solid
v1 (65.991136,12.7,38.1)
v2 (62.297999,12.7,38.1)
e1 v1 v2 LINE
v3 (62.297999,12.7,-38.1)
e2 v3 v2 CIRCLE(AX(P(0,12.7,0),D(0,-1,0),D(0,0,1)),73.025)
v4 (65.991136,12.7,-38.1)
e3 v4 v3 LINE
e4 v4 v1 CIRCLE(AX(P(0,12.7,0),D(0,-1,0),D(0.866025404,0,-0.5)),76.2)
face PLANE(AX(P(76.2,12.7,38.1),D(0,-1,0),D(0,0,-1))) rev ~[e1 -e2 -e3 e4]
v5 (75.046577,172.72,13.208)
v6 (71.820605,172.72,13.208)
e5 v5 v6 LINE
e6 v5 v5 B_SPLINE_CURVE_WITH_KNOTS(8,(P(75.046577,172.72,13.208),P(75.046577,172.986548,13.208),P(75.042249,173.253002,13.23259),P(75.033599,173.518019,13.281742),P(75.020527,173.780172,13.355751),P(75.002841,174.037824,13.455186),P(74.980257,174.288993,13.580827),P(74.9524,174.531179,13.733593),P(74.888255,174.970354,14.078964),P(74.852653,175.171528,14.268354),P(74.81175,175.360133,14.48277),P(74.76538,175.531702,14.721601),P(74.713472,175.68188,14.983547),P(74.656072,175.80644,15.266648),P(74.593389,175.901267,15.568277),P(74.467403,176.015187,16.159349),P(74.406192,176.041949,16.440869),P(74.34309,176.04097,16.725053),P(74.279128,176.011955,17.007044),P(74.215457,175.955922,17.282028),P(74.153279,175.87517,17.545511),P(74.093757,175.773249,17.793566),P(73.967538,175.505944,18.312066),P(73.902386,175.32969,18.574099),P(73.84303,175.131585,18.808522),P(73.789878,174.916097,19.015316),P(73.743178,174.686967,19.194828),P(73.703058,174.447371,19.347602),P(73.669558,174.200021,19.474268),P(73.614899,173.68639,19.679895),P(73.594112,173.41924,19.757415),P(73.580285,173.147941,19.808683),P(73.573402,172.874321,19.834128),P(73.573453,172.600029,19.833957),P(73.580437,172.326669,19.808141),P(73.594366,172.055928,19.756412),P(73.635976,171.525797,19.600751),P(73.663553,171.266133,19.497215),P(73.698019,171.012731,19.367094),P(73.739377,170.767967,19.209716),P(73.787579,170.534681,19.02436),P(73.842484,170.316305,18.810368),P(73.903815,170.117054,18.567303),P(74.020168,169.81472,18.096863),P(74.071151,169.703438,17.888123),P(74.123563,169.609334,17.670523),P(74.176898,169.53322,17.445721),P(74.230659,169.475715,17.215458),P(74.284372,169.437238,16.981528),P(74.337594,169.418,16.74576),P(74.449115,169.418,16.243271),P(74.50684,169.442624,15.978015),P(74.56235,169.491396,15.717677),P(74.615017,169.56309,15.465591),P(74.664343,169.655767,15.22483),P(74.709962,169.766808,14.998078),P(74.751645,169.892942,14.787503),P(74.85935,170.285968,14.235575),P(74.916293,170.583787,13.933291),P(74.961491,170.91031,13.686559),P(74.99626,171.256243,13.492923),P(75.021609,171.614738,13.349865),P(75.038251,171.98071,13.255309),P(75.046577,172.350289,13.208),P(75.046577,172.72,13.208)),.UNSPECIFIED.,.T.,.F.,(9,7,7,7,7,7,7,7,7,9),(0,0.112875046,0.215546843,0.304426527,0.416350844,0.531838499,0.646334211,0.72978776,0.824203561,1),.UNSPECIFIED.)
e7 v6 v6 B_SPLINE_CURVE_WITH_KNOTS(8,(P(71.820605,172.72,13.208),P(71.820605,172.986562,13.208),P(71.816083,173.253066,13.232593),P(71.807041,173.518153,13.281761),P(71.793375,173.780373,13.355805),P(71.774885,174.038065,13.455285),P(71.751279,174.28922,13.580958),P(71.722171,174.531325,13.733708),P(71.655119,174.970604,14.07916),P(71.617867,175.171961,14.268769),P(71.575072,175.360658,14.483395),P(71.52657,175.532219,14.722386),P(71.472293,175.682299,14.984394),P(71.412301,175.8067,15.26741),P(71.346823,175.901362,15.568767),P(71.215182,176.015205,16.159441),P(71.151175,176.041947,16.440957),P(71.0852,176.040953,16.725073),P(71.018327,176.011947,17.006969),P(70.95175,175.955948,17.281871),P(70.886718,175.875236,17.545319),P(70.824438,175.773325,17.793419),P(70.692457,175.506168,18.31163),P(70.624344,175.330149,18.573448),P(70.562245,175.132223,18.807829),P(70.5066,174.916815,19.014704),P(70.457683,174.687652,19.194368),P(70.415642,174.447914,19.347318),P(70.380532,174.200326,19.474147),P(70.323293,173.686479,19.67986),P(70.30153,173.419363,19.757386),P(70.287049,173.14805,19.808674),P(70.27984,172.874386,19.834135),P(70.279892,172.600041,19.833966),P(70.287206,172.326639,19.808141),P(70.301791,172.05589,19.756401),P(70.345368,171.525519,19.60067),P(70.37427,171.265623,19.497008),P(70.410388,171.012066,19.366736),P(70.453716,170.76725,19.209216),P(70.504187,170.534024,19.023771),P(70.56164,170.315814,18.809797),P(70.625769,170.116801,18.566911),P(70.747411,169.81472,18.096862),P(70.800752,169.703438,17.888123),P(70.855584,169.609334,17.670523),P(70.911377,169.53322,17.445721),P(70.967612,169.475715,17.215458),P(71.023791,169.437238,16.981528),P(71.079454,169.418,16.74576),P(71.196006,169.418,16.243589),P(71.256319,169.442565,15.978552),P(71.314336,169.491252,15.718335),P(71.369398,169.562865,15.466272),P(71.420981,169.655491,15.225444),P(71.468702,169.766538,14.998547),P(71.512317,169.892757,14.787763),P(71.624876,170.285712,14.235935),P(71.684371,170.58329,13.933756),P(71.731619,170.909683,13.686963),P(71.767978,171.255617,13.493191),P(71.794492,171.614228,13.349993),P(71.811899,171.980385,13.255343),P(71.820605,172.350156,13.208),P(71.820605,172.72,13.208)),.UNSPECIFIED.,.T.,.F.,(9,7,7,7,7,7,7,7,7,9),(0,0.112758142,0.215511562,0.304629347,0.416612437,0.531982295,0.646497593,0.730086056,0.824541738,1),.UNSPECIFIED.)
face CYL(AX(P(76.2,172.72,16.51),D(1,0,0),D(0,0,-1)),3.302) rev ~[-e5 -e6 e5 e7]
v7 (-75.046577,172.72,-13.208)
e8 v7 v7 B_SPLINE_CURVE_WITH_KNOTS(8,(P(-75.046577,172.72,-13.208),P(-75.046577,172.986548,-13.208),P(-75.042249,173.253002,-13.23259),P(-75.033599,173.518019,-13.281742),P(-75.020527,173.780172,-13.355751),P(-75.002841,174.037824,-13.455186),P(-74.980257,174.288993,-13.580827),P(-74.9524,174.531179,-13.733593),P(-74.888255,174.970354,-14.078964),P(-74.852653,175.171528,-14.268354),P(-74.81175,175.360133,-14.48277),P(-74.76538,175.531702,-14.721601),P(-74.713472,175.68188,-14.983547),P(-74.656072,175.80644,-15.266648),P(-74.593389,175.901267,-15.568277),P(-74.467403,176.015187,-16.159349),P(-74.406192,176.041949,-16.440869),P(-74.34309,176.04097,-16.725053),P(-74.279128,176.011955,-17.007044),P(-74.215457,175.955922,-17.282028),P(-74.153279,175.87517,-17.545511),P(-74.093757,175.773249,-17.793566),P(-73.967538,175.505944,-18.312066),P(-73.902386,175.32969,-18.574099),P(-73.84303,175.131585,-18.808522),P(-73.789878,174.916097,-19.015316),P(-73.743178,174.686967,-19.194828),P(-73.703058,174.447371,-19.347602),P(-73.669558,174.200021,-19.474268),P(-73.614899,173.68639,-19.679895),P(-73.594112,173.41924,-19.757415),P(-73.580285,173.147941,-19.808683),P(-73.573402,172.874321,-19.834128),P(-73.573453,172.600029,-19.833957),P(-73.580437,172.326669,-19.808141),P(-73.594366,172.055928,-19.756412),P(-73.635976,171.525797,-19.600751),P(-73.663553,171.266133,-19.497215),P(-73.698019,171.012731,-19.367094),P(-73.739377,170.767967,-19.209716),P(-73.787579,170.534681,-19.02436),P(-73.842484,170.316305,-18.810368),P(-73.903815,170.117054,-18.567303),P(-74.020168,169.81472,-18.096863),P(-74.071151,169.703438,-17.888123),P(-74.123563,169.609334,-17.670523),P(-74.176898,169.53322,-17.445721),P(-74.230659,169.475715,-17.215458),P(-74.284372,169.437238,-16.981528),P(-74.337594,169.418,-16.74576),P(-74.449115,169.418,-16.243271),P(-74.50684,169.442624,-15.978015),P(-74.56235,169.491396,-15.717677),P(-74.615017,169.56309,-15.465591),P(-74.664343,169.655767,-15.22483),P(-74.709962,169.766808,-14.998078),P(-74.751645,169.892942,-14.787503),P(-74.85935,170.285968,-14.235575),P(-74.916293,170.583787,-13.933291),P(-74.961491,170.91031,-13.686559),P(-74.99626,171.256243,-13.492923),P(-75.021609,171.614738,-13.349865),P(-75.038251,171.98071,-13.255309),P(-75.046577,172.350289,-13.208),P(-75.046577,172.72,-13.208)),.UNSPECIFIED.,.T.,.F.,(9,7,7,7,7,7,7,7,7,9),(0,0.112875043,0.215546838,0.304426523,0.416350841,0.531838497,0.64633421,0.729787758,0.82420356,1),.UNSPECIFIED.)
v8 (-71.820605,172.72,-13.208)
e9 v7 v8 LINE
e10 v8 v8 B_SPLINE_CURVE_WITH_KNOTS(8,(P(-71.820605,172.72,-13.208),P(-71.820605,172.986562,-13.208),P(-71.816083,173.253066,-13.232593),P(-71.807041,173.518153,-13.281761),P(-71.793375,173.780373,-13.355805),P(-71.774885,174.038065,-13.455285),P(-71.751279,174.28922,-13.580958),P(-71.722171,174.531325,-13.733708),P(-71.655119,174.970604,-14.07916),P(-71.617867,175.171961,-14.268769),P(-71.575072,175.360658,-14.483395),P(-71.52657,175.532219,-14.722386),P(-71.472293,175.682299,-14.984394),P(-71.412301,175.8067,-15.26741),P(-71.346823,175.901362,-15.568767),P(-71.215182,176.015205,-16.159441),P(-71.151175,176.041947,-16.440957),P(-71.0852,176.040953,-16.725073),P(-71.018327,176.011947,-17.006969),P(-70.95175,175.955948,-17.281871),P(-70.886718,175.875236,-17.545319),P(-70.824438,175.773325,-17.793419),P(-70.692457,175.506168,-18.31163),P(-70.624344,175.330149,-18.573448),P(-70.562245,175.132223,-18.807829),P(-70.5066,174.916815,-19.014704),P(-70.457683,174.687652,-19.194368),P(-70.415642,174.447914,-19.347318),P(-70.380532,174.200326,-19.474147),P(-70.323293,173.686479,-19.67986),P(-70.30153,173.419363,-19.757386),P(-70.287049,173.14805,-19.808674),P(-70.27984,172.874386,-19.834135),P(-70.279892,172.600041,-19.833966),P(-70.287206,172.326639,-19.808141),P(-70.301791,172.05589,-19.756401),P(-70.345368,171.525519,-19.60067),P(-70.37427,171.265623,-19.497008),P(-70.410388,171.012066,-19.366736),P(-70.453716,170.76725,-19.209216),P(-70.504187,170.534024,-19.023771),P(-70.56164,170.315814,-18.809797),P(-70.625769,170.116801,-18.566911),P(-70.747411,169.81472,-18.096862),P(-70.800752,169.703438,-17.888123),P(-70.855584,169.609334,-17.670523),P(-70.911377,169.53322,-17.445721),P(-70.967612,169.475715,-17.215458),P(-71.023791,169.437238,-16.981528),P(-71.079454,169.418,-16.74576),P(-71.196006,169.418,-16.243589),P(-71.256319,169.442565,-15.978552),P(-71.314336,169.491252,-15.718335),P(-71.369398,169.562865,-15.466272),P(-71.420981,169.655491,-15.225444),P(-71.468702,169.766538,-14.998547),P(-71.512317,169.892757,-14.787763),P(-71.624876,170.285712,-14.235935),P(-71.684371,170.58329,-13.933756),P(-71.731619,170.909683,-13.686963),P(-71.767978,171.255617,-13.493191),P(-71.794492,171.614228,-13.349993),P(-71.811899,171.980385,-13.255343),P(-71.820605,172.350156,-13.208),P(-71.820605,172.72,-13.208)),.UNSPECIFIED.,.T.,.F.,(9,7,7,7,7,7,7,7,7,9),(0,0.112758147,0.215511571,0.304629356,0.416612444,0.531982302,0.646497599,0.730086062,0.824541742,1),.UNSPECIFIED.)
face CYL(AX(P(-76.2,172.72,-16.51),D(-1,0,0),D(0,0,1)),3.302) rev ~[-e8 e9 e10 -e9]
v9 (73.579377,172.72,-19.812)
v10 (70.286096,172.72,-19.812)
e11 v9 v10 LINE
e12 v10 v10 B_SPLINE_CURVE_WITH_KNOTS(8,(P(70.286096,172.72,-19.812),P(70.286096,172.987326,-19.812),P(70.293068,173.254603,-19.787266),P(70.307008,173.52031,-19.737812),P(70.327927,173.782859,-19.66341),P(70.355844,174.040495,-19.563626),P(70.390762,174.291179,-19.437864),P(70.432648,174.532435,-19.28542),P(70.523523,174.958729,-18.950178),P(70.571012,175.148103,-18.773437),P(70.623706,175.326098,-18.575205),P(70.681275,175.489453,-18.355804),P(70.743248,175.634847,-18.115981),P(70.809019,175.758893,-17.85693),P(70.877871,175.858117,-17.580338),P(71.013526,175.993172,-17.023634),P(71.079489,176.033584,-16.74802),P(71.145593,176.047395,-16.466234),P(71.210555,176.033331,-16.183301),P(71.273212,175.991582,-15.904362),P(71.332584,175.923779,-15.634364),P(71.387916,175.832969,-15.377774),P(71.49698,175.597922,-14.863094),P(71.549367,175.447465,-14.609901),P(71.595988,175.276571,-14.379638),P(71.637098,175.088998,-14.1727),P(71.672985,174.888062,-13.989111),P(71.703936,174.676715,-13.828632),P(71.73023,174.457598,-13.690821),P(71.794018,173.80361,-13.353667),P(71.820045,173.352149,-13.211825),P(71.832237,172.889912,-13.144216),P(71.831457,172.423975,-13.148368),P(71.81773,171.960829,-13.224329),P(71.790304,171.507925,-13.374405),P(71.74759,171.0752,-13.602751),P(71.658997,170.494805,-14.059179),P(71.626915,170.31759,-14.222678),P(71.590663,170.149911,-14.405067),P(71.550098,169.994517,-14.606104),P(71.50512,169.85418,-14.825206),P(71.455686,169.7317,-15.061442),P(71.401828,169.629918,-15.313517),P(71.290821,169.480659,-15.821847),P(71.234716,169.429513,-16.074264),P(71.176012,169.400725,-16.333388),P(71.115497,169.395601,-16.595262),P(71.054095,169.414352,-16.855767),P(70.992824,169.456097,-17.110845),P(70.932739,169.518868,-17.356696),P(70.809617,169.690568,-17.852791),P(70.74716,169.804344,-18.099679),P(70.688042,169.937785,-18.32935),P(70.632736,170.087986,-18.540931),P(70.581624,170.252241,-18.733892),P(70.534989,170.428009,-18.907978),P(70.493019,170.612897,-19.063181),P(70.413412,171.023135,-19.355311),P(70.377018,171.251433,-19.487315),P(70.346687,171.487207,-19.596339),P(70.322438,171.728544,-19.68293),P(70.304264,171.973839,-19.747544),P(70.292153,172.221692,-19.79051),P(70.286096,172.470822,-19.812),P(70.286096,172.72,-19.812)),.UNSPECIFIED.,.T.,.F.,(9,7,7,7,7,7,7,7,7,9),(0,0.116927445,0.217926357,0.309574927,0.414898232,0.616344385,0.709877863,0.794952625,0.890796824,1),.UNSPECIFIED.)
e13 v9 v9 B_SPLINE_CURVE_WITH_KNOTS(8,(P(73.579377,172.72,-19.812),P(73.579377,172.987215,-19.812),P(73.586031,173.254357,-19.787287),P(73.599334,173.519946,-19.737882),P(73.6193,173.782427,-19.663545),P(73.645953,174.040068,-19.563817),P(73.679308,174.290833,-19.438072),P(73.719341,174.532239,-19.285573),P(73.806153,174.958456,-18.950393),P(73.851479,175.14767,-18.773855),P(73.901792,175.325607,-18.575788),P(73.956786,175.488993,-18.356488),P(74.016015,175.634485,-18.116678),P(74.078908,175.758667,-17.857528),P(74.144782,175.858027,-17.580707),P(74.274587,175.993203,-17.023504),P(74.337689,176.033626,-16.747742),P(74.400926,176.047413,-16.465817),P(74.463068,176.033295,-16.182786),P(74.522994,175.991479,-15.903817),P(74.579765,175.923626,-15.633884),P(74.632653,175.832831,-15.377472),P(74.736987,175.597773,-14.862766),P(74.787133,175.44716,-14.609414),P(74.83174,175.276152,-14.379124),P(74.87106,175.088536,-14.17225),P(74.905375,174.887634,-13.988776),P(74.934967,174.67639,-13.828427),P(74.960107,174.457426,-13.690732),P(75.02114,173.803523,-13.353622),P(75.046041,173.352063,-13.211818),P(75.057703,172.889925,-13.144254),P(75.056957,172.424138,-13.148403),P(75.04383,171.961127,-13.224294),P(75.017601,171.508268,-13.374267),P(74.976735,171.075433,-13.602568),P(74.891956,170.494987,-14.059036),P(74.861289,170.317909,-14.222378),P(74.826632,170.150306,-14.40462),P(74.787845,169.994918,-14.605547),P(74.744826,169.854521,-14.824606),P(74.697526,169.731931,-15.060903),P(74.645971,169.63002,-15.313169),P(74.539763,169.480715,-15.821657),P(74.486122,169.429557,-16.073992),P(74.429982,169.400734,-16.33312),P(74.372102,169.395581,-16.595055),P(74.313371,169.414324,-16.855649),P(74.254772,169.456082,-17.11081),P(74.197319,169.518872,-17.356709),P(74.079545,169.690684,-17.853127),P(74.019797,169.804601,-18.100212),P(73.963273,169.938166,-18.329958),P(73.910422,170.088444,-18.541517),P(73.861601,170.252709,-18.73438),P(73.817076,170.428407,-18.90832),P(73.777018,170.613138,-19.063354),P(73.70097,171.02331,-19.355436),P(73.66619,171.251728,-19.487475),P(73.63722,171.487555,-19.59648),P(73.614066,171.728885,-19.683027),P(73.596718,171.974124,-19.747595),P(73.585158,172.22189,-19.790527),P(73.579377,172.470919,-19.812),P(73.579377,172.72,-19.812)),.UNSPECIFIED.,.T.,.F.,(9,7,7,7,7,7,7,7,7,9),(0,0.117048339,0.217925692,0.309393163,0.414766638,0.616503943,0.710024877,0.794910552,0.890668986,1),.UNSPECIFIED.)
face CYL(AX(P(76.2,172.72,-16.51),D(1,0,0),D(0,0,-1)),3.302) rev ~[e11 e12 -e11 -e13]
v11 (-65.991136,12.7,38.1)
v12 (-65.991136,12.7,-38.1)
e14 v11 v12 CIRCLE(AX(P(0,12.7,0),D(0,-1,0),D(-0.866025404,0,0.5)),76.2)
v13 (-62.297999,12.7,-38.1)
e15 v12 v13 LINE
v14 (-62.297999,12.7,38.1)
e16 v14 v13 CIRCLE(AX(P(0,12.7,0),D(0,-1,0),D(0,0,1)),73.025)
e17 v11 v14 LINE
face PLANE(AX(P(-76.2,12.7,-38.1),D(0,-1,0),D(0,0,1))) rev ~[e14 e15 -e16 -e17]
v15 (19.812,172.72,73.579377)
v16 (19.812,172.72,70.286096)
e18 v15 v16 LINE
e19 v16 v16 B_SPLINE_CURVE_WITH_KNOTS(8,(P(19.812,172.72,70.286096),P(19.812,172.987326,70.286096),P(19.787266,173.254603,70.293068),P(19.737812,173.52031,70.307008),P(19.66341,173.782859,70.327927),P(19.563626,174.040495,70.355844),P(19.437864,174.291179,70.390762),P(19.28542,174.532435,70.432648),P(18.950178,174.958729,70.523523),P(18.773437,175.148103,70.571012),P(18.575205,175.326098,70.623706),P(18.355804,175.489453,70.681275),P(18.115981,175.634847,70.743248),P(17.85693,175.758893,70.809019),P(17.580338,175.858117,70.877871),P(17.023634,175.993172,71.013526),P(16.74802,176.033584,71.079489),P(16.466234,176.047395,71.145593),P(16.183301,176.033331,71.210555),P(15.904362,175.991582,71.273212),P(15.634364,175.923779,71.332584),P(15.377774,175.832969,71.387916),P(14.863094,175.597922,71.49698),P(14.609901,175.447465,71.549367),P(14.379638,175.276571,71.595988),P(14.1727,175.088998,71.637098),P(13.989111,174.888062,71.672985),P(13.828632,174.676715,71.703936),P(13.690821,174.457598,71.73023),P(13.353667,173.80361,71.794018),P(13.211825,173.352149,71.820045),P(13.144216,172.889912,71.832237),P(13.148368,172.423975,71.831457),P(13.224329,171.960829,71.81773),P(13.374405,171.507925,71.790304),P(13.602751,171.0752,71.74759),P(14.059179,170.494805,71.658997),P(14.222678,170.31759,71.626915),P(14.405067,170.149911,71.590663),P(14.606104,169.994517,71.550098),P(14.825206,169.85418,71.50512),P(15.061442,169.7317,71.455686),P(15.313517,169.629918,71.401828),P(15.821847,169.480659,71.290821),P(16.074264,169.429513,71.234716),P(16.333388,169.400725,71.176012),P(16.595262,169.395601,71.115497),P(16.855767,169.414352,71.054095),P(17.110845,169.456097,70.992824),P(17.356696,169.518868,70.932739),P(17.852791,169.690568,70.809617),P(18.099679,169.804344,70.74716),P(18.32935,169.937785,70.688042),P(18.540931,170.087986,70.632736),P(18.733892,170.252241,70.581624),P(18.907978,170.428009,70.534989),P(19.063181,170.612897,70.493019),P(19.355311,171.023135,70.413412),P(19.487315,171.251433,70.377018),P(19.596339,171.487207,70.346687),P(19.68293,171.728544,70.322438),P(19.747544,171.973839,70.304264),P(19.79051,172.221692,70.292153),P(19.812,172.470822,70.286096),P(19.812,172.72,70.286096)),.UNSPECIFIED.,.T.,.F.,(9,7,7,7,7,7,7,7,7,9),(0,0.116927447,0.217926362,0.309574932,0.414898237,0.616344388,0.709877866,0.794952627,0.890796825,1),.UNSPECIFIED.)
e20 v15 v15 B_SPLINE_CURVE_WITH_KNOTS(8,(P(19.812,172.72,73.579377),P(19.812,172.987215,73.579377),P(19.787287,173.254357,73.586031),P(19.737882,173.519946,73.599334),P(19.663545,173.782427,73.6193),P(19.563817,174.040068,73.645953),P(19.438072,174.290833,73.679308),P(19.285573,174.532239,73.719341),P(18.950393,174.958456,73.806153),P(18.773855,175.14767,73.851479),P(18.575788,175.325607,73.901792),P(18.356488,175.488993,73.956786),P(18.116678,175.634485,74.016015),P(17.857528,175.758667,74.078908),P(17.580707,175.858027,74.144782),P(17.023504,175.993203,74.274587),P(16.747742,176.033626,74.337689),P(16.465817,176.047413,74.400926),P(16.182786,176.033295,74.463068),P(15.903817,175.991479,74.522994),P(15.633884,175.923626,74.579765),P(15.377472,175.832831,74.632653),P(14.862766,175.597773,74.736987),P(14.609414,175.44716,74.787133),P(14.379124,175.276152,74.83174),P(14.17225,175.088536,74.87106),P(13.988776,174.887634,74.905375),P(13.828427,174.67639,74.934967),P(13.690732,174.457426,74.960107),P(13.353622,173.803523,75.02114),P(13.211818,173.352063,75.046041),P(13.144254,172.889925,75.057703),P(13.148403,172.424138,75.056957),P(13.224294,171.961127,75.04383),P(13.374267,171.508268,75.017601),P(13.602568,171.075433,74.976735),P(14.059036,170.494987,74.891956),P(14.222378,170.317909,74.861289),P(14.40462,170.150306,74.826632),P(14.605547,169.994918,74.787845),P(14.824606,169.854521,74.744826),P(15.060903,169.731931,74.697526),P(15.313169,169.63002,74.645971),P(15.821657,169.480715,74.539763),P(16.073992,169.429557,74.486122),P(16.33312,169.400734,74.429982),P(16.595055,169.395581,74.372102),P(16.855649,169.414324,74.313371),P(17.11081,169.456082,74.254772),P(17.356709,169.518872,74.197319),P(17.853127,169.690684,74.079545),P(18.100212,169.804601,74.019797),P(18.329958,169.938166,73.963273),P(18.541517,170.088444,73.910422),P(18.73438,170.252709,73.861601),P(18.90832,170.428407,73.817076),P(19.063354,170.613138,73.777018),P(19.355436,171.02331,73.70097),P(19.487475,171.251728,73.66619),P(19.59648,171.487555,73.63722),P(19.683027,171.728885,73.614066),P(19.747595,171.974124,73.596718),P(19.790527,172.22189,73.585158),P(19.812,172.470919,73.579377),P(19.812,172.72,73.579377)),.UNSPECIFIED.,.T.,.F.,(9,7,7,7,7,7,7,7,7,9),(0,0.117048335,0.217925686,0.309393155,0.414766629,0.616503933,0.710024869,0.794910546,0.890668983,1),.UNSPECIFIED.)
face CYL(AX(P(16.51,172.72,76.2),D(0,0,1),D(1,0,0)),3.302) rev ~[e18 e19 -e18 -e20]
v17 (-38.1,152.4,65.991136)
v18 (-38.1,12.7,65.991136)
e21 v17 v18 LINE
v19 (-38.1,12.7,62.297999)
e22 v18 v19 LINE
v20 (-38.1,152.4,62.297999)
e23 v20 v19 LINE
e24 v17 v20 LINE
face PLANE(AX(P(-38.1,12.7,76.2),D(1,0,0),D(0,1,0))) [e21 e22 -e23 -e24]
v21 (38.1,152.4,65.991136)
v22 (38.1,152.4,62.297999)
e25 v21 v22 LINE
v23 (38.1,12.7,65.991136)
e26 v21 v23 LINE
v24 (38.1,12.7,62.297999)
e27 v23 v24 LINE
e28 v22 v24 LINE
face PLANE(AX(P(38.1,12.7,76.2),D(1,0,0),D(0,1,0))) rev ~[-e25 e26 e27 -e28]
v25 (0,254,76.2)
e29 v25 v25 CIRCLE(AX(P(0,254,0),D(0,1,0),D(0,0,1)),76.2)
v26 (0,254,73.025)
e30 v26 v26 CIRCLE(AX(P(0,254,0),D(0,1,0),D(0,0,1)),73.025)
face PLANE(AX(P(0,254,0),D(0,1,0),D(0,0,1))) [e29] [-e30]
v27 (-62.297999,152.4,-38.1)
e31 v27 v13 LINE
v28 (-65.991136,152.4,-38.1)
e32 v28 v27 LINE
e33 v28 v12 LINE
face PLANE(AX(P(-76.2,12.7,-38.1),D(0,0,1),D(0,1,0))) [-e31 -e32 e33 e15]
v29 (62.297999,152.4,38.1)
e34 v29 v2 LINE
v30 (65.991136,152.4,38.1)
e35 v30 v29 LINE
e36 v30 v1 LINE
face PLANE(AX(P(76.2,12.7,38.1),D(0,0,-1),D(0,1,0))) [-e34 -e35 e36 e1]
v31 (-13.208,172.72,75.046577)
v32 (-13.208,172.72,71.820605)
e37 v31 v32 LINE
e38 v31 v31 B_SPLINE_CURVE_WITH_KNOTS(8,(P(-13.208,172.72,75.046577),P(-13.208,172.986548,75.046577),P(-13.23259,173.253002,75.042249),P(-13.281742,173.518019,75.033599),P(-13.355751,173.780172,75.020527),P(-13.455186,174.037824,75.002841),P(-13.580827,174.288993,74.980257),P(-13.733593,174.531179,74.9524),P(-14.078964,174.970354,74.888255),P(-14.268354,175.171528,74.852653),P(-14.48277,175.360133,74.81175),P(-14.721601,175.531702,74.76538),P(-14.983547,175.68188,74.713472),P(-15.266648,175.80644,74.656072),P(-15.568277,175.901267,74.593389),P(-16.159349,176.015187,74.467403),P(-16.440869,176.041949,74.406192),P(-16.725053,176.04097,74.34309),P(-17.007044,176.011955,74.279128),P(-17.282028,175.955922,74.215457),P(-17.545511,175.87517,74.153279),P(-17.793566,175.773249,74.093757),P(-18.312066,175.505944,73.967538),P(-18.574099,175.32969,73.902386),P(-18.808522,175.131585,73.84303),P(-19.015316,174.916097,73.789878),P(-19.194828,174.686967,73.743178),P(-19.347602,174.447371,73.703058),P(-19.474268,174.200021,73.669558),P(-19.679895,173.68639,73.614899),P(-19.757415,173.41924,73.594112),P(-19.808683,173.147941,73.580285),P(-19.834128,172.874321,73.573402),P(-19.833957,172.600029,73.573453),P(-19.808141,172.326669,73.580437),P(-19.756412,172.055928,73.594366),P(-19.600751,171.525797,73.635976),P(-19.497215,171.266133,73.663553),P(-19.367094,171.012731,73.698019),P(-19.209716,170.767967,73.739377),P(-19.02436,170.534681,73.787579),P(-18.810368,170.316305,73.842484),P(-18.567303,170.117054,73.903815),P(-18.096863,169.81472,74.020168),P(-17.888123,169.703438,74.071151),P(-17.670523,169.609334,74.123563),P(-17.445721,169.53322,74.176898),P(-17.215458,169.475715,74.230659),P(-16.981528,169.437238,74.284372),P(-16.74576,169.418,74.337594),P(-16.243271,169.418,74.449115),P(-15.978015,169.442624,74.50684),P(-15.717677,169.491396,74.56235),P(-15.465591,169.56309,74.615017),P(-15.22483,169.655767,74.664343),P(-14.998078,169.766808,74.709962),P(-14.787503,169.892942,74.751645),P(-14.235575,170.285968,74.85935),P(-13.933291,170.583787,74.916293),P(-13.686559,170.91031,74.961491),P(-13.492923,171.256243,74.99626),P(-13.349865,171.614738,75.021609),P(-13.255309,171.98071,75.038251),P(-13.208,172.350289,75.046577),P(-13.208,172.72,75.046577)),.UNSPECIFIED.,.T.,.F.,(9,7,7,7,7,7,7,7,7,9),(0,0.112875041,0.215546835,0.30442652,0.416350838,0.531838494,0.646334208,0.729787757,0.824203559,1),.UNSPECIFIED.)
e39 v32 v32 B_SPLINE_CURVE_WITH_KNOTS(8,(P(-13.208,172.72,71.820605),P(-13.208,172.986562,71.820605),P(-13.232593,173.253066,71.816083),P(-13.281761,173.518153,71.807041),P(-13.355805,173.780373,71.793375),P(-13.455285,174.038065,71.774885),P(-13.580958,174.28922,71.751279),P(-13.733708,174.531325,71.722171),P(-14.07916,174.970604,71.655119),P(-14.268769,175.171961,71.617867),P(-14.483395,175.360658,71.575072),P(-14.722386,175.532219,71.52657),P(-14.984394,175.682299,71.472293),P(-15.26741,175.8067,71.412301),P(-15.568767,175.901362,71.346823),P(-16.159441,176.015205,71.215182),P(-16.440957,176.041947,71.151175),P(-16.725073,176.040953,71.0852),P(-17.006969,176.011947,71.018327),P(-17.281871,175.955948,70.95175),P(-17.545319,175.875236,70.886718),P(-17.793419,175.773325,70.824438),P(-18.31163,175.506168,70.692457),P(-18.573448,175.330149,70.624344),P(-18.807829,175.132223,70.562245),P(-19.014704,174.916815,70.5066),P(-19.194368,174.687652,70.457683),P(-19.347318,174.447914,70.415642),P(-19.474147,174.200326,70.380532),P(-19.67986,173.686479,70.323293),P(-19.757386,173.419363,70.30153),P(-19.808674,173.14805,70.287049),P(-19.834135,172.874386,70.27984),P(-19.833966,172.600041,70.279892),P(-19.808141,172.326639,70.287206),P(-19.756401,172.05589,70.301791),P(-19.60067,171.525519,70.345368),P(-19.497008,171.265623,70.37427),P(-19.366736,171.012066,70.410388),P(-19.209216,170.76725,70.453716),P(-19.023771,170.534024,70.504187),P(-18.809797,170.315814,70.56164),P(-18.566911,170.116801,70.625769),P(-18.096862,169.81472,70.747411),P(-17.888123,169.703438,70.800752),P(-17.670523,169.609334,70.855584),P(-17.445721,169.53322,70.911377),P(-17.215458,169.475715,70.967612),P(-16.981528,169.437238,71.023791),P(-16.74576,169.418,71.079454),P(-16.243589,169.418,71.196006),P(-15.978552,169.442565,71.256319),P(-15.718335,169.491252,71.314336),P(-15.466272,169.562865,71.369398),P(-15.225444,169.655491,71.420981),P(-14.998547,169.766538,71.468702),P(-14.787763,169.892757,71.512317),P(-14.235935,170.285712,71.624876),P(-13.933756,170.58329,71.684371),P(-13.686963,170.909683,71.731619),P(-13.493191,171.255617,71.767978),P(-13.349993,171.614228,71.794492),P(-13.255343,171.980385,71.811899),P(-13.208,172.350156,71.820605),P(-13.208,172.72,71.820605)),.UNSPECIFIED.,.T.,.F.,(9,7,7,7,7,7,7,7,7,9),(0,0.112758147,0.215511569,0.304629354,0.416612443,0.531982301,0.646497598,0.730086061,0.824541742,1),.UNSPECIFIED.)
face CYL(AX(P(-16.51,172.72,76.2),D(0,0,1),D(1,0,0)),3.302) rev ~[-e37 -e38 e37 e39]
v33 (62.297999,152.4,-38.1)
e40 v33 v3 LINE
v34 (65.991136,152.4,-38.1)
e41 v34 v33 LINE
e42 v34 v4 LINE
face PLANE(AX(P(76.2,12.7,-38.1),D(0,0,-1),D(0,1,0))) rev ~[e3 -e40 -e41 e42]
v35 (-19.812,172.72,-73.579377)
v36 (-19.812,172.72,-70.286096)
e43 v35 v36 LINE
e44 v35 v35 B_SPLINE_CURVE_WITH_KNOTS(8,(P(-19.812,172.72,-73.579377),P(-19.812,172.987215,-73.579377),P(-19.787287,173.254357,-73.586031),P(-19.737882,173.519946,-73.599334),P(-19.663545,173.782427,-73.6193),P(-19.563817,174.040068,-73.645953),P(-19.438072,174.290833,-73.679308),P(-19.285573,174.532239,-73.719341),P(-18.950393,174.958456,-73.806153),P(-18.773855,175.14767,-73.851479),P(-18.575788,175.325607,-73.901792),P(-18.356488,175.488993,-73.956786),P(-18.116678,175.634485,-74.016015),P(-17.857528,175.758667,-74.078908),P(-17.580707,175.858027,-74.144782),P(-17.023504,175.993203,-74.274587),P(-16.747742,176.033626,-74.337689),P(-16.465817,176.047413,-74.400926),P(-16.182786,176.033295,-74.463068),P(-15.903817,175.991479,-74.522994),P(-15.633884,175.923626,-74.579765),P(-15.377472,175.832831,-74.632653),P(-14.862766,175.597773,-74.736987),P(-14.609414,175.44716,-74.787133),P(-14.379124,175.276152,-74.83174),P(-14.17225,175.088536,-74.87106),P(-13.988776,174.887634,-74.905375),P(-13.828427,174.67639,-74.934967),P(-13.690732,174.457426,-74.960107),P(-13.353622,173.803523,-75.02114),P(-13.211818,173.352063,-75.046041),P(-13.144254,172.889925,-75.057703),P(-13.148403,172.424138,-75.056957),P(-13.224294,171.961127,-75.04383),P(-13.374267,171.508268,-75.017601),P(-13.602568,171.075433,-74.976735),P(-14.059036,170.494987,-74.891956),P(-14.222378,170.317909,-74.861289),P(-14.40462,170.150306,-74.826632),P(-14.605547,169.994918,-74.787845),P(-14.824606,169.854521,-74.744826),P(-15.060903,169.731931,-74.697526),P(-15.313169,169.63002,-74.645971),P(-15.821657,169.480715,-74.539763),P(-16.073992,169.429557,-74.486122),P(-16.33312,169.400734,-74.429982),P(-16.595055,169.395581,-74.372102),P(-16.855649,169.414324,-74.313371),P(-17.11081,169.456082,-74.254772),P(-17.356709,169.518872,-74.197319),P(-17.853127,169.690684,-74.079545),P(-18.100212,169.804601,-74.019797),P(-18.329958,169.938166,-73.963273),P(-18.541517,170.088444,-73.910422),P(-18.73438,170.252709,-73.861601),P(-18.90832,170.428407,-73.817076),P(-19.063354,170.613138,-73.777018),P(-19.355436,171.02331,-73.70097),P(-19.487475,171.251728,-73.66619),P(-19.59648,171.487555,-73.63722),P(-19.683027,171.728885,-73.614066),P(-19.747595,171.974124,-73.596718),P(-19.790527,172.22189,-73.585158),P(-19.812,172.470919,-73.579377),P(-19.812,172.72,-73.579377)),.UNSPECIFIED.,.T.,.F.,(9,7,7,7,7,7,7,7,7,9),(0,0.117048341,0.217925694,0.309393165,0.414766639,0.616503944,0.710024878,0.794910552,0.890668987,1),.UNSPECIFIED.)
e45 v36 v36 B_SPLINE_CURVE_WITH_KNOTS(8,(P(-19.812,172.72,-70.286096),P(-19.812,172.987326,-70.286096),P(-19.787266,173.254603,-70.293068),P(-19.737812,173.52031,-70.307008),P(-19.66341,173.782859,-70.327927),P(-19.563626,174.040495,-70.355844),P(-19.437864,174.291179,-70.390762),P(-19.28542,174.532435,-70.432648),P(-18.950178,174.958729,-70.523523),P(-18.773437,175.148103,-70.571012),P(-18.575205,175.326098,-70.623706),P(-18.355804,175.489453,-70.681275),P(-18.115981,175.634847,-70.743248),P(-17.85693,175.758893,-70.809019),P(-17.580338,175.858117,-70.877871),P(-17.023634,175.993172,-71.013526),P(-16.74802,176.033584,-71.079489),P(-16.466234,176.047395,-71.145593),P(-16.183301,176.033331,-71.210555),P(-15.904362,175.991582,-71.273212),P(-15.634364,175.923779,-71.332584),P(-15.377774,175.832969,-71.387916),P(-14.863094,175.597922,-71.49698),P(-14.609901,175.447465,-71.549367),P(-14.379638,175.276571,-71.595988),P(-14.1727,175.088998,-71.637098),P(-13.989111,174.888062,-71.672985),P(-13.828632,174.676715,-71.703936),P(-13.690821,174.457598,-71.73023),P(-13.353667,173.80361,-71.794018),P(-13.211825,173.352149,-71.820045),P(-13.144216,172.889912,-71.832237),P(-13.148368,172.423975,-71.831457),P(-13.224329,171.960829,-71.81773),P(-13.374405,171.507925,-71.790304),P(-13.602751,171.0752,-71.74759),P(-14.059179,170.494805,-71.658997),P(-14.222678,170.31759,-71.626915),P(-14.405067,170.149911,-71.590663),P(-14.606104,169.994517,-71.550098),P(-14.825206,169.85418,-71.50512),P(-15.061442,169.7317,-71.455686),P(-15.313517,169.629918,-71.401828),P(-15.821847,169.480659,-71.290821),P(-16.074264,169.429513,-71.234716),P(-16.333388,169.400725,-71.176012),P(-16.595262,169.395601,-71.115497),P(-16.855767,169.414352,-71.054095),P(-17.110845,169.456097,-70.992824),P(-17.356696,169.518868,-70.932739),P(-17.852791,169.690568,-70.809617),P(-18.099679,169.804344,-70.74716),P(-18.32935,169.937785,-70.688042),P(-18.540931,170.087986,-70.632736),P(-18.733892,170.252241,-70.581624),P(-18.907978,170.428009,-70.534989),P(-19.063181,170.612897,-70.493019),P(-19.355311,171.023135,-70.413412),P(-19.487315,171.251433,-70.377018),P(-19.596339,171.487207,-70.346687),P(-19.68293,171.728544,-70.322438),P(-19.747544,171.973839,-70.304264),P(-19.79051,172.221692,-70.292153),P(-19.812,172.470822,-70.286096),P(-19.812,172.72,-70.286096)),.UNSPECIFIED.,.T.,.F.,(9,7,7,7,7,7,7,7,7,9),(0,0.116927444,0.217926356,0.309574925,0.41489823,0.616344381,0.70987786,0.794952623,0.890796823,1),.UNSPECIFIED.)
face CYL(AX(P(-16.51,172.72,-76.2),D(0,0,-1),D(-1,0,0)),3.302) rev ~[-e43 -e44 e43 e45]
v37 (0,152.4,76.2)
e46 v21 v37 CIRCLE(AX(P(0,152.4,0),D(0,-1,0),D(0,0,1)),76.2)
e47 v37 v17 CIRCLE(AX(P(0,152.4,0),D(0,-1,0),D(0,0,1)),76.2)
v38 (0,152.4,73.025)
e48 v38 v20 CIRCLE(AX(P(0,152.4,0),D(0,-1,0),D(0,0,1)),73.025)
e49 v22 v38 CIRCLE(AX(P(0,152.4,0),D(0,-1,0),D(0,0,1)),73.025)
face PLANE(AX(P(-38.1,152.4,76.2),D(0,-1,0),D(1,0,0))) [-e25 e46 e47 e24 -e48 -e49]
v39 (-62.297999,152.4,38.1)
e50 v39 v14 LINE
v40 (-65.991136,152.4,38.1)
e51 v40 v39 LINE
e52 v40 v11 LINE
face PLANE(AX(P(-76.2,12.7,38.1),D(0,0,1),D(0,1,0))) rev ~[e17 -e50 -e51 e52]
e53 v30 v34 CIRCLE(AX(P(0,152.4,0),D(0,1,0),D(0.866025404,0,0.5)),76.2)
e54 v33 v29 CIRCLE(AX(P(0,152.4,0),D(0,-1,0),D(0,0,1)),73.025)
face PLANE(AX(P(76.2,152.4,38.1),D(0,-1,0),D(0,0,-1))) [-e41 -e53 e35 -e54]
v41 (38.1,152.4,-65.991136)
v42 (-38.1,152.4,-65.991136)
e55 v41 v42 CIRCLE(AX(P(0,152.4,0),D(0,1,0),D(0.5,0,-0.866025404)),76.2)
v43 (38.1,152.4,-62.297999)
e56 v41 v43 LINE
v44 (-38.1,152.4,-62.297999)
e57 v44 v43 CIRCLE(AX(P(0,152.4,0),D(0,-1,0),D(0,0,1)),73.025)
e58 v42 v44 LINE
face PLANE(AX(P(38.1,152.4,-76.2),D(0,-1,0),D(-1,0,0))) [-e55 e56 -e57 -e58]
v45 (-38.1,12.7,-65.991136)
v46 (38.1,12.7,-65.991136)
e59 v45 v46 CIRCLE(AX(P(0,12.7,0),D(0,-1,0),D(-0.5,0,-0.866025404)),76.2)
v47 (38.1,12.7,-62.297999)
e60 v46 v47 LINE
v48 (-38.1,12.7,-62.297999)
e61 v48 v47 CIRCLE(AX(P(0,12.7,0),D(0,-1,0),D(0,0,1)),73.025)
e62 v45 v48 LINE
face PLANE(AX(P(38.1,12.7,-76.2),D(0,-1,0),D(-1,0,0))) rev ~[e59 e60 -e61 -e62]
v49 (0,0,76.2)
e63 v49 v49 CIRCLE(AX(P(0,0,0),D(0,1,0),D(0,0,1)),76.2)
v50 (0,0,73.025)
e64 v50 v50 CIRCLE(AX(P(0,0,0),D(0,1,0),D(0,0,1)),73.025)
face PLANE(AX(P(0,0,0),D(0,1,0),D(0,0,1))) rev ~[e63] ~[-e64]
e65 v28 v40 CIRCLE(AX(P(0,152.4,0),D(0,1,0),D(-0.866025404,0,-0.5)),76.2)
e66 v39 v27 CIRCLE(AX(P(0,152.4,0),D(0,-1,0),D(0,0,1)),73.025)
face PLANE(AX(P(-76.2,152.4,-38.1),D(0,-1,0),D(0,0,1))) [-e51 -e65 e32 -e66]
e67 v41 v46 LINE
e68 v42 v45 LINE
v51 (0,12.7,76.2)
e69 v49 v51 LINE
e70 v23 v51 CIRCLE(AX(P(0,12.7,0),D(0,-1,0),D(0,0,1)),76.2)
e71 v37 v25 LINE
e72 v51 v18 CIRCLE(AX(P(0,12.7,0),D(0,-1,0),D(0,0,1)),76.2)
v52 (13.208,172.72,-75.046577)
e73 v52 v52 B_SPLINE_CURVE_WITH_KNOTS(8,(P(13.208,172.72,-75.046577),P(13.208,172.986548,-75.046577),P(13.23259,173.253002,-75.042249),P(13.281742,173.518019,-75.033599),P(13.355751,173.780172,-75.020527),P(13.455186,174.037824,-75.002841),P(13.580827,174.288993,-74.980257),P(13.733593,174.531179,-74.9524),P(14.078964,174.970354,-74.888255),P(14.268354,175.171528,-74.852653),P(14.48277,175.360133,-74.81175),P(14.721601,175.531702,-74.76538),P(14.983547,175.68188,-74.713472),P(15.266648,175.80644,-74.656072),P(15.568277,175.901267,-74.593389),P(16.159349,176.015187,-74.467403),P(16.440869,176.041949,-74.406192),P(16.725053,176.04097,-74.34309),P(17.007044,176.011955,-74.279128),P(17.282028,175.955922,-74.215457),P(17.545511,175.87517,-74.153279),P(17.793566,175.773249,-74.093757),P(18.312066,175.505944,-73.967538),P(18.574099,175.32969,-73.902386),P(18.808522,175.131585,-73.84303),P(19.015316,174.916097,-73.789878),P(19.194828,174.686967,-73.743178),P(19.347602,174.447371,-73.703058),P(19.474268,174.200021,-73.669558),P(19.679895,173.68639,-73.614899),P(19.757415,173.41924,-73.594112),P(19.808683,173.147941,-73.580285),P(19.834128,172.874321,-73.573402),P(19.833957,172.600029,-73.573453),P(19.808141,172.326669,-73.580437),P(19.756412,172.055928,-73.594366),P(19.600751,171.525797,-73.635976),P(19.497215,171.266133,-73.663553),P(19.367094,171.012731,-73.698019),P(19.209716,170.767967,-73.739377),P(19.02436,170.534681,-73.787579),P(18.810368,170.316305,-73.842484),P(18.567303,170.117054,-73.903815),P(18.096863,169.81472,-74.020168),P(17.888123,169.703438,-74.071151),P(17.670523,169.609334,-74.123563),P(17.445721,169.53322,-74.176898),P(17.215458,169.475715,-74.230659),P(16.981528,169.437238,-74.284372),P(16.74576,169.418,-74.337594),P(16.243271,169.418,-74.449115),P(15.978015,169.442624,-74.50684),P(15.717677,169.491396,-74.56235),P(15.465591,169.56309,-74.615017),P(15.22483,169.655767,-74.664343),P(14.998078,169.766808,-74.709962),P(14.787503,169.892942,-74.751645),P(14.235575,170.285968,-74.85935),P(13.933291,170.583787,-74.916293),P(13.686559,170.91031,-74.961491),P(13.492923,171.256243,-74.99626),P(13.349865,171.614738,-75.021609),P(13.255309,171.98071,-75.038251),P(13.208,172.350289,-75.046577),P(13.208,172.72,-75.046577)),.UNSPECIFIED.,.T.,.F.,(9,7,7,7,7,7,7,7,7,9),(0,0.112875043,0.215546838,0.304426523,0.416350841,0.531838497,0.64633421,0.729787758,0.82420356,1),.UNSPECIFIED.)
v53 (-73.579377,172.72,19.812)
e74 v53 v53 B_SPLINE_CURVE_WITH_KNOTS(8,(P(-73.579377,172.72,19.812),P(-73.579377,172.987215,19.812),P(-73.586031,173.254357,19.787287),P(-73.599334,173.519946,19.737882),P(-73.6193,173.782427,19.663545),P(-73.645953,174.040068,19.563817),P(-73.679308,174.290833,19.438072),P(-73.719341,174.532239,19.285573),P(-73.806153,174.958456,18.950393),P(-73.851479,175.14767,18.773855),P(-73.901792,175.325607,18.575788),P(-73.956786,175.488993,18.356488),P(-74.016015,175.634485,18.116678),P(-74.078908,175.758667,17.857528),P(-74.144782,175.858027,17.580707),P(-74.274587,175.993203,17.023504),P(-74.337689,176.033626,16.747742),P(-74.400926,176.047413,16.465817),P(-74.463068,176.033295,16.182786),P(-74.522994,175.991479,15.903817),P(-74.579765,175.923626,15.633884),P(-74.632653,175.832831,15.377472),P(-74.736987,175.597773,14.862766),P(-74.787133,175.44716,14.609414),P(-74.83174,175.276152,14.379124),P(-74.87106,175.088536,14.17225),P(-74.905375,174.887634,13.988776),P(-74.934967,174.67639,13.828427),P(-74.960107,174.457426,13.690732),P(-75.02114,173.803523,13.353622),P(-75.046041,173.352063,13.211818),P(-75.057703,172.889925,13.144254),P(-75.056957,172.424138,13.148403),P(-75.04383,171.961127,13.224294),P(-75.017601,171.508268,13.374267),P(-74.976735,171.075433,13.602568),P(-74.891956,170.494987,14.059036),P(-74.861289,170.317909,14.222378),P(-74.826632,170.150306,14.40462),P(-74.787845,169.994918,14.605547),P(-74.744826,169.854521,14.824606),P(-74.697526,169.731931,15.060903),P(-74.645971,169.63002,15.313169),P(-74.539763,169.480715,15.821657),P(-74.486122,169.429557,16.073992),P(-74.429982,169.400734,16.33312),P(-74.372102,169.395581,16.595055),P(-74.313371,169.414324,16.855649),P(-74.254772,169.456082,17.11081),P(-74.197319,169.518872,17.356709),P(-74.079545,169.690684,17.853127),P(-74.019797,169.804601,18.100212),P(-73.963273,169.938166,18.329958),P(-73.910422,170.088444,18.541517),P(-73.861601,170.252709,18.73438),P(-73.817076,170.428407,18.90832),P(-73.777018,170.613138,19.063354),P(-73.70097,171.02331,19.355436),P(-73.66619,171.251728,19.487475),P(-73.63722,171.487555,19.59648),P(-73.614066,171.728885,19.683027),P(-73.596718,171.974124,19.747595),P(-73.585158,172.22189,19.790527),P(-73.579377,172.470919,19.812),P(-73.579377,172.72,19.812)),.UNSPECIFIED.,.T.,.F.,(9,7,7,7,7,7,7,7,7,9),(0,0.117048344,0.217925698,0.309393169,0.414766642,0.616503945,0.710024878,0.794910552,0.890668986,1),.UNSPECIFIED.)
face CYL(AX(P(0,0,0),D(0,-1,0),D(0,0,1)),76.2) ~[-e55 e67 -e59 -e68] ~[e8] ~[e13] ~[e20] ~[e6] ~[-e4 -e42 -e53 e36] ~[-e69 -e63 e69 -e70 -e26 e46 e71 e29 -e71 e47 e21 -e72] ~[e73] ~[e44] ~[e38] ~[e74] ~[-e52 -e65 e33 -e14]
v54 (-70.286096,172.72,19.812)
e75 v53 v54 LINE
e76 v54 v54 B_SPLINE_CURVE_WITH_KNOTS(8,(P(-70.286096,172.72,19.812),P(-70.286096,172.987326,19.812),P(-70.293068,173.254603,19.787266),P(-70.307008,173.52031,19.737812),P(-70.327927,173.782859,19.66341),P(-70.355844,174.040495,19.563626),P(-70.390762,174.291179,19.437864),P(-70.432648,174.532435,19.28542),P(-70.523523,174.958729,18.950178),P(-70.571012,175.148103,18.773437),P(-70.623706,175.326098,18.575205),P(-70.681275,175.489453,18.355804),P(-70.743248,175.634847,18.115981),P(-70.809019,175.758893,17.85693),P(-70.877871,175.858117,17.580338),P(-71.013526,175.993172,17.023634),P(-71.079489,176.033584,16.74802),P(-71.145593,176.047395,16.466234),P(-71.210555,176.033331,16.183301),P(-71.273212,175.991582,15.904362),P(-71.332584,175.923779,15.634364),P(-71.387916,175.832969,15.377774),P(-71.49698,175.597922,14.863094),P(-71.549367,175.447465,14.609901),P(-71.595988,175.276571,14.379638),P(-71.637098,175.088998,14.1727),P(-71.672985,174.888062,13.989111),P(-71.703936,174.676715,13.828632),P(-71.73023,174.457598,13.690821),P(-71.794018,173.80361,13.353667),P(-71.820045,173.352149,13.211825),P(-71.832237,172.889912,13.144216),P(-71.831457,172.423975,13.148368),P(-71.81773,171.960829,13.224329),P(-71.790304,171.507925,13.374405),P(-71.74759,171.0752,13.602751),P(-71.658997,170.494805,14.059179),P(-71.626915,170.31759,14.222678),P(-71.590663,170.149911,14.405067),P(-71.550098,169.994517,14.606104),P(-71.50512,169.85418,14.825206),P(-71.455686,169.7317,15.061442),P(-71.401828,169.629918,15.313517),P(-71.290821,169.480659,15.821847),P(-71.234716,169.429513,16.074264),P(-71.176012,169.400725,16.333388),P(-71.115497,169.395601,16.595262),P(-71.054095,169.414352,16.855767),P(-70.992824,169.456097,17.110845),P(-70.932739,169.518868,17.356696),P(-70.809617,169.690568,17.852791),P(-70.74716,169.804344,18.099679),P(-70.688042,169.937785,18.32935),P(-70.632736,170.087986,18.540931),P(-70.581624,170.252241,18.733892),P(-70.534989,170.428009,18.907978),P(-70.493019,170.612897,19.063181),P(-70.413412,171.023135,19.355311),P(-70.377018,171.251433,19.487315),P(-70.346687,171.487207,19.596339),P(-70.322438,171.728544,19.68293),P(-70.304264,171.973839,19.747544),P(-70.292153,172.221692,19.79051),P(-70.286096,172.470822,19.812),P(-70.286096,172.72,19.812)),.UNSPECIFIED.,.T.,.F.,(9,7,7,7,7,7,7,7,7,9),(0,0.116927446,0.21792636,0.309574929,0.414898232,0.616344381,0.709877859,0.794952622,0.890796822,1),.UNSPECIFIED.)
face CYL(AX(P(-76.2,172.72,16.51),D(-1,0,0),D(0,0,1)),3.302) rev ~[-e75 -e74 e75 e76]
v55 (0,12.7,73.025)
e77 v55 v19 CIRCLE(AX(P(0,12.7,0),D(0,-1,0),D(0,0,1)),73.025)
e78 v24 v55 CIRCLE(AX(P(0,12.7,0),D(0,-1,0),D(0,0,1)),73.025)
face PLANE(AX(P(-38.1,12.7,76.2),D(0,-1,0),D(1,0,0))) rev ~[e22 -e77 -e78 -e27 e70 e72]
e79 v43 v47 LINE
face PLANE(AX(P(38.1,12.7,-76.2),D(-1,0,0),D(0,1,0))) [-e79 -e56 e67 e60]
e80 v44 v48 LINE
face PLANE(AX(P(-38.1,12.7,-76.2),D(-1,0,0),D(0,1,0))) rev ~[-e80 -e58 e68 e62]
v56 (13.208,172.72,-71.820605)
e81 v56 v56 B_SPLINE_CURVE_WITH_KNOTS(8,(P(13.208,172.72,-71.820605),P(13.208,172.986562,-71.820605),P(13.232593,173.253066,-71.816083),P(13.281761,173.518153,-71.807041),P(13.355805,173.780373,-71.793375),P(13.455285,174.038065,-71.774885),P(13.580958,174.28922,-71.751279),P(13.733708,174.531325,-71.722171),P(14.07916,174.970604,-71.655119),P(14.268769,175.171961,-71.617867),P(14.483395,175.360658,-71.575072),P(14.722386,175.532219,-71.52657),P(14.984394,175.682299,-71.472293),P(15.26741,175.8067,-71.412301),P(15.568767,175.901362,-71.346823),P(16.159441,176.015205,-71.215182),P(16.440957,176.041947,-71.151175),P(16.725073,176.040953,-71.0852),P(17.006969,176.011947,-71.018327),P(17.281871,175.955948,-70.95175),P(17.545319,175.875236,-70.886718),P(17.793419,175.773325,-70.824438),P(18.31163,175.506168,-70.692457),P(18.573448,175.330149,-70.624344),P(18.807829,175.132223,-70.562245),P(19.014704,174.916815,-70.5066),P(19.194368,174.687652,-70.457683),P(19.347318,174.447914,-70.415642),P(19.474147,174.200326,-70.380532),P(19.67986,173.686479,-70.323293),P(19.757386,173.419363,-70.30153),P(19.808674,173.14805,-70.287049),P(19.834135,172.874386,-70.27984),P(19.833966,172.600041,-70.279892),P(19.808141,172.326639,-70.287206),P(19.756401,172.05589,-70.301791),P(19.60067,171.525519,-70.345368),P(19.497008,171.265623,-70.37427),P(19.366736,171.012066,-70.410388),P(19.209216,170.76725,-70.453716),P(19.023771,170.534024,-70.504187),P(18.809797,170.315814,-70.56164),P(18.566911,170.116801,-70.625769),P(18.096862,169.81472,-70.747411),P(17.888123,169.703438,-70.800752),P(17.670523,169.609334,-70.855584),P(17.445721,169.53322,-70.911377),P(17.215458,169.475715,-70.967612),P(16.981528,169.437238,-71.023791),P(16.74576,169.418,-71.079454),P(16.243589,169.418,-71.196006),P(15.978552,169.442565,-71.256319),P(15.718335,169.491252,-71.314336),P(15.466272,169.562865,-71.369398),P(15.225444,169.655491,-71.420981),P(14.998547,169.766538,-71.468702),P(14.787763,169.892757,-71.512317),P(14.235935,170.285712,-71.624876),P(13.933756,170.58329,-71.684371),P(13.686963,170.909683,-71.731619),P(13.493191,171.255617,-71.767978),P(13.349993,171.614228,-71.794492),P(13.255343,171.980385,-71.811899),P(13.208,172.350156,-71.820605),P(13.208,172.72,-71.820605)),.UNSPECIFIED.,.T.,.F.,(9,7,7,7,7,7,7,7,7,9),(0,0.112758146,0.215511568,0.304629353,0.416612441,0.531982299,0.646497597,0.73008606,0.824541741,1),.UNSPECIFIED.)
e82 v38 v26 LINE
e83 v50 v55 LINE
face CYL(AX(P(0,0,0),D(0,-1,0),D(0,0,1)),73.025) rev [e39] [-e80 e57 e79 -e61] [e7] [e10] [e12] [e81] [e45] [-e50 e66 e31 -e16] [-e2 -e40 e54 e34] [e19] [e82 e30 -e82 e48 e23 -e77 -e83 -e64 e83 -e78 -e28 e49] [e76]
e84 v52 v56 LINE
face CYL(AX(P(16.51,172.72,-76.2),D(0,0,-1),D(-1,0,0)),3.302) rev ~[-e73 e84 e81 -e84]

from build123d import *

# Parameters (mm, degrees)
SKETCH1_R           = 76.2
SKETCH1_R_2         = 73.025
BOSS_EXTRUDE1_DEPTH = 254
SKETCH6_W           = 76.2
SKETCH6_H           = 139.7
CUT_EXTRUDE6_DEPTH  = 20.574
CIRPATTERN9_COUNT   = 4
SKETCH7_R           = 3.302
CUT_EXTRUDE7_DEPTH  = 17.78
CIRPATTERN10_COUNT  = 4


with BuildPart() as part:
    # Sketch1 → Boss-Extrude1 (new body)
    with BuildSketch(Plane(origin=(0, 0, 0), x_dir=(1, 0, 0), z_dir=(0, 1, 0))):
        with Locations(Location((0, 0, 0), (0, 0, 270))):
            Circle(SKETCH1_R)
        with Locations(Location((0, 0, 0), (0, 0, 270))):
            Circle(SKETCH1_R_2, mode=Mode.SUBTRACT)
    extrude(amount=BOSS_EXTRUDE1_DEPTH)

    # Sketch6 → Cut-Extrude6 (cut)
    with BuildSketch(Plane(origin=(0, 0, -76.2), x_dir=(-1, 0, 0), z_dir=(0, 0, -1))):
        with Locations((0, 82.55)):
            Rectangle(SKETCH6_W, SKETCH6_H)
    cut_extrude6 = extrude(amount=-CUT_EXTRUDE6_DEPTH, mode=Mode.SUBTRACT)

    # CirPattern9: Cut-Extrude6 ×4 about axis
    cirpattern9_axis = Axis((0, 0, 0), (0, 1, 0))
    for i in range(1, CIRPATTERN9_COUNT):
        add(cut_extrude6.rotate(cirpattern9_axis, i * 360 / CIRPATTERN9_COUNT), mode=Mode.SUBTRACT)

    # Sketch7 → Cut-Extrude7 (cut)
    with BuildSketch(Plane(origin=(0, 0, -76.2), x_dir=(-1, 0, 0), z_dir=(0, 0, -1))):
        with Locations((-16.51, 172.72)):
            Circle(SKETCH7_R)
        with Locations((16.51, 172.72)):
            Circle(SKETCH7_R)
    cut_extrude7 = extrude(amount=-CUT_EXTRUDE7_DEPTH, mode=Mode.SUBTRACT)

    # CirPattern10: Cut-Extrude7 ×4 about axis
    cirpattern10_axis = Axis((0, 254, 0), (0, 1, 0))
    for i in range(1, CIRPATTERN10_COUNT):
        add(cut_extrude7.rotate(cirpattern10_axis, i * 360 / CIRPATTERN10_COUNT), mode=Mode.SUBTRACT)


solid = part.part
